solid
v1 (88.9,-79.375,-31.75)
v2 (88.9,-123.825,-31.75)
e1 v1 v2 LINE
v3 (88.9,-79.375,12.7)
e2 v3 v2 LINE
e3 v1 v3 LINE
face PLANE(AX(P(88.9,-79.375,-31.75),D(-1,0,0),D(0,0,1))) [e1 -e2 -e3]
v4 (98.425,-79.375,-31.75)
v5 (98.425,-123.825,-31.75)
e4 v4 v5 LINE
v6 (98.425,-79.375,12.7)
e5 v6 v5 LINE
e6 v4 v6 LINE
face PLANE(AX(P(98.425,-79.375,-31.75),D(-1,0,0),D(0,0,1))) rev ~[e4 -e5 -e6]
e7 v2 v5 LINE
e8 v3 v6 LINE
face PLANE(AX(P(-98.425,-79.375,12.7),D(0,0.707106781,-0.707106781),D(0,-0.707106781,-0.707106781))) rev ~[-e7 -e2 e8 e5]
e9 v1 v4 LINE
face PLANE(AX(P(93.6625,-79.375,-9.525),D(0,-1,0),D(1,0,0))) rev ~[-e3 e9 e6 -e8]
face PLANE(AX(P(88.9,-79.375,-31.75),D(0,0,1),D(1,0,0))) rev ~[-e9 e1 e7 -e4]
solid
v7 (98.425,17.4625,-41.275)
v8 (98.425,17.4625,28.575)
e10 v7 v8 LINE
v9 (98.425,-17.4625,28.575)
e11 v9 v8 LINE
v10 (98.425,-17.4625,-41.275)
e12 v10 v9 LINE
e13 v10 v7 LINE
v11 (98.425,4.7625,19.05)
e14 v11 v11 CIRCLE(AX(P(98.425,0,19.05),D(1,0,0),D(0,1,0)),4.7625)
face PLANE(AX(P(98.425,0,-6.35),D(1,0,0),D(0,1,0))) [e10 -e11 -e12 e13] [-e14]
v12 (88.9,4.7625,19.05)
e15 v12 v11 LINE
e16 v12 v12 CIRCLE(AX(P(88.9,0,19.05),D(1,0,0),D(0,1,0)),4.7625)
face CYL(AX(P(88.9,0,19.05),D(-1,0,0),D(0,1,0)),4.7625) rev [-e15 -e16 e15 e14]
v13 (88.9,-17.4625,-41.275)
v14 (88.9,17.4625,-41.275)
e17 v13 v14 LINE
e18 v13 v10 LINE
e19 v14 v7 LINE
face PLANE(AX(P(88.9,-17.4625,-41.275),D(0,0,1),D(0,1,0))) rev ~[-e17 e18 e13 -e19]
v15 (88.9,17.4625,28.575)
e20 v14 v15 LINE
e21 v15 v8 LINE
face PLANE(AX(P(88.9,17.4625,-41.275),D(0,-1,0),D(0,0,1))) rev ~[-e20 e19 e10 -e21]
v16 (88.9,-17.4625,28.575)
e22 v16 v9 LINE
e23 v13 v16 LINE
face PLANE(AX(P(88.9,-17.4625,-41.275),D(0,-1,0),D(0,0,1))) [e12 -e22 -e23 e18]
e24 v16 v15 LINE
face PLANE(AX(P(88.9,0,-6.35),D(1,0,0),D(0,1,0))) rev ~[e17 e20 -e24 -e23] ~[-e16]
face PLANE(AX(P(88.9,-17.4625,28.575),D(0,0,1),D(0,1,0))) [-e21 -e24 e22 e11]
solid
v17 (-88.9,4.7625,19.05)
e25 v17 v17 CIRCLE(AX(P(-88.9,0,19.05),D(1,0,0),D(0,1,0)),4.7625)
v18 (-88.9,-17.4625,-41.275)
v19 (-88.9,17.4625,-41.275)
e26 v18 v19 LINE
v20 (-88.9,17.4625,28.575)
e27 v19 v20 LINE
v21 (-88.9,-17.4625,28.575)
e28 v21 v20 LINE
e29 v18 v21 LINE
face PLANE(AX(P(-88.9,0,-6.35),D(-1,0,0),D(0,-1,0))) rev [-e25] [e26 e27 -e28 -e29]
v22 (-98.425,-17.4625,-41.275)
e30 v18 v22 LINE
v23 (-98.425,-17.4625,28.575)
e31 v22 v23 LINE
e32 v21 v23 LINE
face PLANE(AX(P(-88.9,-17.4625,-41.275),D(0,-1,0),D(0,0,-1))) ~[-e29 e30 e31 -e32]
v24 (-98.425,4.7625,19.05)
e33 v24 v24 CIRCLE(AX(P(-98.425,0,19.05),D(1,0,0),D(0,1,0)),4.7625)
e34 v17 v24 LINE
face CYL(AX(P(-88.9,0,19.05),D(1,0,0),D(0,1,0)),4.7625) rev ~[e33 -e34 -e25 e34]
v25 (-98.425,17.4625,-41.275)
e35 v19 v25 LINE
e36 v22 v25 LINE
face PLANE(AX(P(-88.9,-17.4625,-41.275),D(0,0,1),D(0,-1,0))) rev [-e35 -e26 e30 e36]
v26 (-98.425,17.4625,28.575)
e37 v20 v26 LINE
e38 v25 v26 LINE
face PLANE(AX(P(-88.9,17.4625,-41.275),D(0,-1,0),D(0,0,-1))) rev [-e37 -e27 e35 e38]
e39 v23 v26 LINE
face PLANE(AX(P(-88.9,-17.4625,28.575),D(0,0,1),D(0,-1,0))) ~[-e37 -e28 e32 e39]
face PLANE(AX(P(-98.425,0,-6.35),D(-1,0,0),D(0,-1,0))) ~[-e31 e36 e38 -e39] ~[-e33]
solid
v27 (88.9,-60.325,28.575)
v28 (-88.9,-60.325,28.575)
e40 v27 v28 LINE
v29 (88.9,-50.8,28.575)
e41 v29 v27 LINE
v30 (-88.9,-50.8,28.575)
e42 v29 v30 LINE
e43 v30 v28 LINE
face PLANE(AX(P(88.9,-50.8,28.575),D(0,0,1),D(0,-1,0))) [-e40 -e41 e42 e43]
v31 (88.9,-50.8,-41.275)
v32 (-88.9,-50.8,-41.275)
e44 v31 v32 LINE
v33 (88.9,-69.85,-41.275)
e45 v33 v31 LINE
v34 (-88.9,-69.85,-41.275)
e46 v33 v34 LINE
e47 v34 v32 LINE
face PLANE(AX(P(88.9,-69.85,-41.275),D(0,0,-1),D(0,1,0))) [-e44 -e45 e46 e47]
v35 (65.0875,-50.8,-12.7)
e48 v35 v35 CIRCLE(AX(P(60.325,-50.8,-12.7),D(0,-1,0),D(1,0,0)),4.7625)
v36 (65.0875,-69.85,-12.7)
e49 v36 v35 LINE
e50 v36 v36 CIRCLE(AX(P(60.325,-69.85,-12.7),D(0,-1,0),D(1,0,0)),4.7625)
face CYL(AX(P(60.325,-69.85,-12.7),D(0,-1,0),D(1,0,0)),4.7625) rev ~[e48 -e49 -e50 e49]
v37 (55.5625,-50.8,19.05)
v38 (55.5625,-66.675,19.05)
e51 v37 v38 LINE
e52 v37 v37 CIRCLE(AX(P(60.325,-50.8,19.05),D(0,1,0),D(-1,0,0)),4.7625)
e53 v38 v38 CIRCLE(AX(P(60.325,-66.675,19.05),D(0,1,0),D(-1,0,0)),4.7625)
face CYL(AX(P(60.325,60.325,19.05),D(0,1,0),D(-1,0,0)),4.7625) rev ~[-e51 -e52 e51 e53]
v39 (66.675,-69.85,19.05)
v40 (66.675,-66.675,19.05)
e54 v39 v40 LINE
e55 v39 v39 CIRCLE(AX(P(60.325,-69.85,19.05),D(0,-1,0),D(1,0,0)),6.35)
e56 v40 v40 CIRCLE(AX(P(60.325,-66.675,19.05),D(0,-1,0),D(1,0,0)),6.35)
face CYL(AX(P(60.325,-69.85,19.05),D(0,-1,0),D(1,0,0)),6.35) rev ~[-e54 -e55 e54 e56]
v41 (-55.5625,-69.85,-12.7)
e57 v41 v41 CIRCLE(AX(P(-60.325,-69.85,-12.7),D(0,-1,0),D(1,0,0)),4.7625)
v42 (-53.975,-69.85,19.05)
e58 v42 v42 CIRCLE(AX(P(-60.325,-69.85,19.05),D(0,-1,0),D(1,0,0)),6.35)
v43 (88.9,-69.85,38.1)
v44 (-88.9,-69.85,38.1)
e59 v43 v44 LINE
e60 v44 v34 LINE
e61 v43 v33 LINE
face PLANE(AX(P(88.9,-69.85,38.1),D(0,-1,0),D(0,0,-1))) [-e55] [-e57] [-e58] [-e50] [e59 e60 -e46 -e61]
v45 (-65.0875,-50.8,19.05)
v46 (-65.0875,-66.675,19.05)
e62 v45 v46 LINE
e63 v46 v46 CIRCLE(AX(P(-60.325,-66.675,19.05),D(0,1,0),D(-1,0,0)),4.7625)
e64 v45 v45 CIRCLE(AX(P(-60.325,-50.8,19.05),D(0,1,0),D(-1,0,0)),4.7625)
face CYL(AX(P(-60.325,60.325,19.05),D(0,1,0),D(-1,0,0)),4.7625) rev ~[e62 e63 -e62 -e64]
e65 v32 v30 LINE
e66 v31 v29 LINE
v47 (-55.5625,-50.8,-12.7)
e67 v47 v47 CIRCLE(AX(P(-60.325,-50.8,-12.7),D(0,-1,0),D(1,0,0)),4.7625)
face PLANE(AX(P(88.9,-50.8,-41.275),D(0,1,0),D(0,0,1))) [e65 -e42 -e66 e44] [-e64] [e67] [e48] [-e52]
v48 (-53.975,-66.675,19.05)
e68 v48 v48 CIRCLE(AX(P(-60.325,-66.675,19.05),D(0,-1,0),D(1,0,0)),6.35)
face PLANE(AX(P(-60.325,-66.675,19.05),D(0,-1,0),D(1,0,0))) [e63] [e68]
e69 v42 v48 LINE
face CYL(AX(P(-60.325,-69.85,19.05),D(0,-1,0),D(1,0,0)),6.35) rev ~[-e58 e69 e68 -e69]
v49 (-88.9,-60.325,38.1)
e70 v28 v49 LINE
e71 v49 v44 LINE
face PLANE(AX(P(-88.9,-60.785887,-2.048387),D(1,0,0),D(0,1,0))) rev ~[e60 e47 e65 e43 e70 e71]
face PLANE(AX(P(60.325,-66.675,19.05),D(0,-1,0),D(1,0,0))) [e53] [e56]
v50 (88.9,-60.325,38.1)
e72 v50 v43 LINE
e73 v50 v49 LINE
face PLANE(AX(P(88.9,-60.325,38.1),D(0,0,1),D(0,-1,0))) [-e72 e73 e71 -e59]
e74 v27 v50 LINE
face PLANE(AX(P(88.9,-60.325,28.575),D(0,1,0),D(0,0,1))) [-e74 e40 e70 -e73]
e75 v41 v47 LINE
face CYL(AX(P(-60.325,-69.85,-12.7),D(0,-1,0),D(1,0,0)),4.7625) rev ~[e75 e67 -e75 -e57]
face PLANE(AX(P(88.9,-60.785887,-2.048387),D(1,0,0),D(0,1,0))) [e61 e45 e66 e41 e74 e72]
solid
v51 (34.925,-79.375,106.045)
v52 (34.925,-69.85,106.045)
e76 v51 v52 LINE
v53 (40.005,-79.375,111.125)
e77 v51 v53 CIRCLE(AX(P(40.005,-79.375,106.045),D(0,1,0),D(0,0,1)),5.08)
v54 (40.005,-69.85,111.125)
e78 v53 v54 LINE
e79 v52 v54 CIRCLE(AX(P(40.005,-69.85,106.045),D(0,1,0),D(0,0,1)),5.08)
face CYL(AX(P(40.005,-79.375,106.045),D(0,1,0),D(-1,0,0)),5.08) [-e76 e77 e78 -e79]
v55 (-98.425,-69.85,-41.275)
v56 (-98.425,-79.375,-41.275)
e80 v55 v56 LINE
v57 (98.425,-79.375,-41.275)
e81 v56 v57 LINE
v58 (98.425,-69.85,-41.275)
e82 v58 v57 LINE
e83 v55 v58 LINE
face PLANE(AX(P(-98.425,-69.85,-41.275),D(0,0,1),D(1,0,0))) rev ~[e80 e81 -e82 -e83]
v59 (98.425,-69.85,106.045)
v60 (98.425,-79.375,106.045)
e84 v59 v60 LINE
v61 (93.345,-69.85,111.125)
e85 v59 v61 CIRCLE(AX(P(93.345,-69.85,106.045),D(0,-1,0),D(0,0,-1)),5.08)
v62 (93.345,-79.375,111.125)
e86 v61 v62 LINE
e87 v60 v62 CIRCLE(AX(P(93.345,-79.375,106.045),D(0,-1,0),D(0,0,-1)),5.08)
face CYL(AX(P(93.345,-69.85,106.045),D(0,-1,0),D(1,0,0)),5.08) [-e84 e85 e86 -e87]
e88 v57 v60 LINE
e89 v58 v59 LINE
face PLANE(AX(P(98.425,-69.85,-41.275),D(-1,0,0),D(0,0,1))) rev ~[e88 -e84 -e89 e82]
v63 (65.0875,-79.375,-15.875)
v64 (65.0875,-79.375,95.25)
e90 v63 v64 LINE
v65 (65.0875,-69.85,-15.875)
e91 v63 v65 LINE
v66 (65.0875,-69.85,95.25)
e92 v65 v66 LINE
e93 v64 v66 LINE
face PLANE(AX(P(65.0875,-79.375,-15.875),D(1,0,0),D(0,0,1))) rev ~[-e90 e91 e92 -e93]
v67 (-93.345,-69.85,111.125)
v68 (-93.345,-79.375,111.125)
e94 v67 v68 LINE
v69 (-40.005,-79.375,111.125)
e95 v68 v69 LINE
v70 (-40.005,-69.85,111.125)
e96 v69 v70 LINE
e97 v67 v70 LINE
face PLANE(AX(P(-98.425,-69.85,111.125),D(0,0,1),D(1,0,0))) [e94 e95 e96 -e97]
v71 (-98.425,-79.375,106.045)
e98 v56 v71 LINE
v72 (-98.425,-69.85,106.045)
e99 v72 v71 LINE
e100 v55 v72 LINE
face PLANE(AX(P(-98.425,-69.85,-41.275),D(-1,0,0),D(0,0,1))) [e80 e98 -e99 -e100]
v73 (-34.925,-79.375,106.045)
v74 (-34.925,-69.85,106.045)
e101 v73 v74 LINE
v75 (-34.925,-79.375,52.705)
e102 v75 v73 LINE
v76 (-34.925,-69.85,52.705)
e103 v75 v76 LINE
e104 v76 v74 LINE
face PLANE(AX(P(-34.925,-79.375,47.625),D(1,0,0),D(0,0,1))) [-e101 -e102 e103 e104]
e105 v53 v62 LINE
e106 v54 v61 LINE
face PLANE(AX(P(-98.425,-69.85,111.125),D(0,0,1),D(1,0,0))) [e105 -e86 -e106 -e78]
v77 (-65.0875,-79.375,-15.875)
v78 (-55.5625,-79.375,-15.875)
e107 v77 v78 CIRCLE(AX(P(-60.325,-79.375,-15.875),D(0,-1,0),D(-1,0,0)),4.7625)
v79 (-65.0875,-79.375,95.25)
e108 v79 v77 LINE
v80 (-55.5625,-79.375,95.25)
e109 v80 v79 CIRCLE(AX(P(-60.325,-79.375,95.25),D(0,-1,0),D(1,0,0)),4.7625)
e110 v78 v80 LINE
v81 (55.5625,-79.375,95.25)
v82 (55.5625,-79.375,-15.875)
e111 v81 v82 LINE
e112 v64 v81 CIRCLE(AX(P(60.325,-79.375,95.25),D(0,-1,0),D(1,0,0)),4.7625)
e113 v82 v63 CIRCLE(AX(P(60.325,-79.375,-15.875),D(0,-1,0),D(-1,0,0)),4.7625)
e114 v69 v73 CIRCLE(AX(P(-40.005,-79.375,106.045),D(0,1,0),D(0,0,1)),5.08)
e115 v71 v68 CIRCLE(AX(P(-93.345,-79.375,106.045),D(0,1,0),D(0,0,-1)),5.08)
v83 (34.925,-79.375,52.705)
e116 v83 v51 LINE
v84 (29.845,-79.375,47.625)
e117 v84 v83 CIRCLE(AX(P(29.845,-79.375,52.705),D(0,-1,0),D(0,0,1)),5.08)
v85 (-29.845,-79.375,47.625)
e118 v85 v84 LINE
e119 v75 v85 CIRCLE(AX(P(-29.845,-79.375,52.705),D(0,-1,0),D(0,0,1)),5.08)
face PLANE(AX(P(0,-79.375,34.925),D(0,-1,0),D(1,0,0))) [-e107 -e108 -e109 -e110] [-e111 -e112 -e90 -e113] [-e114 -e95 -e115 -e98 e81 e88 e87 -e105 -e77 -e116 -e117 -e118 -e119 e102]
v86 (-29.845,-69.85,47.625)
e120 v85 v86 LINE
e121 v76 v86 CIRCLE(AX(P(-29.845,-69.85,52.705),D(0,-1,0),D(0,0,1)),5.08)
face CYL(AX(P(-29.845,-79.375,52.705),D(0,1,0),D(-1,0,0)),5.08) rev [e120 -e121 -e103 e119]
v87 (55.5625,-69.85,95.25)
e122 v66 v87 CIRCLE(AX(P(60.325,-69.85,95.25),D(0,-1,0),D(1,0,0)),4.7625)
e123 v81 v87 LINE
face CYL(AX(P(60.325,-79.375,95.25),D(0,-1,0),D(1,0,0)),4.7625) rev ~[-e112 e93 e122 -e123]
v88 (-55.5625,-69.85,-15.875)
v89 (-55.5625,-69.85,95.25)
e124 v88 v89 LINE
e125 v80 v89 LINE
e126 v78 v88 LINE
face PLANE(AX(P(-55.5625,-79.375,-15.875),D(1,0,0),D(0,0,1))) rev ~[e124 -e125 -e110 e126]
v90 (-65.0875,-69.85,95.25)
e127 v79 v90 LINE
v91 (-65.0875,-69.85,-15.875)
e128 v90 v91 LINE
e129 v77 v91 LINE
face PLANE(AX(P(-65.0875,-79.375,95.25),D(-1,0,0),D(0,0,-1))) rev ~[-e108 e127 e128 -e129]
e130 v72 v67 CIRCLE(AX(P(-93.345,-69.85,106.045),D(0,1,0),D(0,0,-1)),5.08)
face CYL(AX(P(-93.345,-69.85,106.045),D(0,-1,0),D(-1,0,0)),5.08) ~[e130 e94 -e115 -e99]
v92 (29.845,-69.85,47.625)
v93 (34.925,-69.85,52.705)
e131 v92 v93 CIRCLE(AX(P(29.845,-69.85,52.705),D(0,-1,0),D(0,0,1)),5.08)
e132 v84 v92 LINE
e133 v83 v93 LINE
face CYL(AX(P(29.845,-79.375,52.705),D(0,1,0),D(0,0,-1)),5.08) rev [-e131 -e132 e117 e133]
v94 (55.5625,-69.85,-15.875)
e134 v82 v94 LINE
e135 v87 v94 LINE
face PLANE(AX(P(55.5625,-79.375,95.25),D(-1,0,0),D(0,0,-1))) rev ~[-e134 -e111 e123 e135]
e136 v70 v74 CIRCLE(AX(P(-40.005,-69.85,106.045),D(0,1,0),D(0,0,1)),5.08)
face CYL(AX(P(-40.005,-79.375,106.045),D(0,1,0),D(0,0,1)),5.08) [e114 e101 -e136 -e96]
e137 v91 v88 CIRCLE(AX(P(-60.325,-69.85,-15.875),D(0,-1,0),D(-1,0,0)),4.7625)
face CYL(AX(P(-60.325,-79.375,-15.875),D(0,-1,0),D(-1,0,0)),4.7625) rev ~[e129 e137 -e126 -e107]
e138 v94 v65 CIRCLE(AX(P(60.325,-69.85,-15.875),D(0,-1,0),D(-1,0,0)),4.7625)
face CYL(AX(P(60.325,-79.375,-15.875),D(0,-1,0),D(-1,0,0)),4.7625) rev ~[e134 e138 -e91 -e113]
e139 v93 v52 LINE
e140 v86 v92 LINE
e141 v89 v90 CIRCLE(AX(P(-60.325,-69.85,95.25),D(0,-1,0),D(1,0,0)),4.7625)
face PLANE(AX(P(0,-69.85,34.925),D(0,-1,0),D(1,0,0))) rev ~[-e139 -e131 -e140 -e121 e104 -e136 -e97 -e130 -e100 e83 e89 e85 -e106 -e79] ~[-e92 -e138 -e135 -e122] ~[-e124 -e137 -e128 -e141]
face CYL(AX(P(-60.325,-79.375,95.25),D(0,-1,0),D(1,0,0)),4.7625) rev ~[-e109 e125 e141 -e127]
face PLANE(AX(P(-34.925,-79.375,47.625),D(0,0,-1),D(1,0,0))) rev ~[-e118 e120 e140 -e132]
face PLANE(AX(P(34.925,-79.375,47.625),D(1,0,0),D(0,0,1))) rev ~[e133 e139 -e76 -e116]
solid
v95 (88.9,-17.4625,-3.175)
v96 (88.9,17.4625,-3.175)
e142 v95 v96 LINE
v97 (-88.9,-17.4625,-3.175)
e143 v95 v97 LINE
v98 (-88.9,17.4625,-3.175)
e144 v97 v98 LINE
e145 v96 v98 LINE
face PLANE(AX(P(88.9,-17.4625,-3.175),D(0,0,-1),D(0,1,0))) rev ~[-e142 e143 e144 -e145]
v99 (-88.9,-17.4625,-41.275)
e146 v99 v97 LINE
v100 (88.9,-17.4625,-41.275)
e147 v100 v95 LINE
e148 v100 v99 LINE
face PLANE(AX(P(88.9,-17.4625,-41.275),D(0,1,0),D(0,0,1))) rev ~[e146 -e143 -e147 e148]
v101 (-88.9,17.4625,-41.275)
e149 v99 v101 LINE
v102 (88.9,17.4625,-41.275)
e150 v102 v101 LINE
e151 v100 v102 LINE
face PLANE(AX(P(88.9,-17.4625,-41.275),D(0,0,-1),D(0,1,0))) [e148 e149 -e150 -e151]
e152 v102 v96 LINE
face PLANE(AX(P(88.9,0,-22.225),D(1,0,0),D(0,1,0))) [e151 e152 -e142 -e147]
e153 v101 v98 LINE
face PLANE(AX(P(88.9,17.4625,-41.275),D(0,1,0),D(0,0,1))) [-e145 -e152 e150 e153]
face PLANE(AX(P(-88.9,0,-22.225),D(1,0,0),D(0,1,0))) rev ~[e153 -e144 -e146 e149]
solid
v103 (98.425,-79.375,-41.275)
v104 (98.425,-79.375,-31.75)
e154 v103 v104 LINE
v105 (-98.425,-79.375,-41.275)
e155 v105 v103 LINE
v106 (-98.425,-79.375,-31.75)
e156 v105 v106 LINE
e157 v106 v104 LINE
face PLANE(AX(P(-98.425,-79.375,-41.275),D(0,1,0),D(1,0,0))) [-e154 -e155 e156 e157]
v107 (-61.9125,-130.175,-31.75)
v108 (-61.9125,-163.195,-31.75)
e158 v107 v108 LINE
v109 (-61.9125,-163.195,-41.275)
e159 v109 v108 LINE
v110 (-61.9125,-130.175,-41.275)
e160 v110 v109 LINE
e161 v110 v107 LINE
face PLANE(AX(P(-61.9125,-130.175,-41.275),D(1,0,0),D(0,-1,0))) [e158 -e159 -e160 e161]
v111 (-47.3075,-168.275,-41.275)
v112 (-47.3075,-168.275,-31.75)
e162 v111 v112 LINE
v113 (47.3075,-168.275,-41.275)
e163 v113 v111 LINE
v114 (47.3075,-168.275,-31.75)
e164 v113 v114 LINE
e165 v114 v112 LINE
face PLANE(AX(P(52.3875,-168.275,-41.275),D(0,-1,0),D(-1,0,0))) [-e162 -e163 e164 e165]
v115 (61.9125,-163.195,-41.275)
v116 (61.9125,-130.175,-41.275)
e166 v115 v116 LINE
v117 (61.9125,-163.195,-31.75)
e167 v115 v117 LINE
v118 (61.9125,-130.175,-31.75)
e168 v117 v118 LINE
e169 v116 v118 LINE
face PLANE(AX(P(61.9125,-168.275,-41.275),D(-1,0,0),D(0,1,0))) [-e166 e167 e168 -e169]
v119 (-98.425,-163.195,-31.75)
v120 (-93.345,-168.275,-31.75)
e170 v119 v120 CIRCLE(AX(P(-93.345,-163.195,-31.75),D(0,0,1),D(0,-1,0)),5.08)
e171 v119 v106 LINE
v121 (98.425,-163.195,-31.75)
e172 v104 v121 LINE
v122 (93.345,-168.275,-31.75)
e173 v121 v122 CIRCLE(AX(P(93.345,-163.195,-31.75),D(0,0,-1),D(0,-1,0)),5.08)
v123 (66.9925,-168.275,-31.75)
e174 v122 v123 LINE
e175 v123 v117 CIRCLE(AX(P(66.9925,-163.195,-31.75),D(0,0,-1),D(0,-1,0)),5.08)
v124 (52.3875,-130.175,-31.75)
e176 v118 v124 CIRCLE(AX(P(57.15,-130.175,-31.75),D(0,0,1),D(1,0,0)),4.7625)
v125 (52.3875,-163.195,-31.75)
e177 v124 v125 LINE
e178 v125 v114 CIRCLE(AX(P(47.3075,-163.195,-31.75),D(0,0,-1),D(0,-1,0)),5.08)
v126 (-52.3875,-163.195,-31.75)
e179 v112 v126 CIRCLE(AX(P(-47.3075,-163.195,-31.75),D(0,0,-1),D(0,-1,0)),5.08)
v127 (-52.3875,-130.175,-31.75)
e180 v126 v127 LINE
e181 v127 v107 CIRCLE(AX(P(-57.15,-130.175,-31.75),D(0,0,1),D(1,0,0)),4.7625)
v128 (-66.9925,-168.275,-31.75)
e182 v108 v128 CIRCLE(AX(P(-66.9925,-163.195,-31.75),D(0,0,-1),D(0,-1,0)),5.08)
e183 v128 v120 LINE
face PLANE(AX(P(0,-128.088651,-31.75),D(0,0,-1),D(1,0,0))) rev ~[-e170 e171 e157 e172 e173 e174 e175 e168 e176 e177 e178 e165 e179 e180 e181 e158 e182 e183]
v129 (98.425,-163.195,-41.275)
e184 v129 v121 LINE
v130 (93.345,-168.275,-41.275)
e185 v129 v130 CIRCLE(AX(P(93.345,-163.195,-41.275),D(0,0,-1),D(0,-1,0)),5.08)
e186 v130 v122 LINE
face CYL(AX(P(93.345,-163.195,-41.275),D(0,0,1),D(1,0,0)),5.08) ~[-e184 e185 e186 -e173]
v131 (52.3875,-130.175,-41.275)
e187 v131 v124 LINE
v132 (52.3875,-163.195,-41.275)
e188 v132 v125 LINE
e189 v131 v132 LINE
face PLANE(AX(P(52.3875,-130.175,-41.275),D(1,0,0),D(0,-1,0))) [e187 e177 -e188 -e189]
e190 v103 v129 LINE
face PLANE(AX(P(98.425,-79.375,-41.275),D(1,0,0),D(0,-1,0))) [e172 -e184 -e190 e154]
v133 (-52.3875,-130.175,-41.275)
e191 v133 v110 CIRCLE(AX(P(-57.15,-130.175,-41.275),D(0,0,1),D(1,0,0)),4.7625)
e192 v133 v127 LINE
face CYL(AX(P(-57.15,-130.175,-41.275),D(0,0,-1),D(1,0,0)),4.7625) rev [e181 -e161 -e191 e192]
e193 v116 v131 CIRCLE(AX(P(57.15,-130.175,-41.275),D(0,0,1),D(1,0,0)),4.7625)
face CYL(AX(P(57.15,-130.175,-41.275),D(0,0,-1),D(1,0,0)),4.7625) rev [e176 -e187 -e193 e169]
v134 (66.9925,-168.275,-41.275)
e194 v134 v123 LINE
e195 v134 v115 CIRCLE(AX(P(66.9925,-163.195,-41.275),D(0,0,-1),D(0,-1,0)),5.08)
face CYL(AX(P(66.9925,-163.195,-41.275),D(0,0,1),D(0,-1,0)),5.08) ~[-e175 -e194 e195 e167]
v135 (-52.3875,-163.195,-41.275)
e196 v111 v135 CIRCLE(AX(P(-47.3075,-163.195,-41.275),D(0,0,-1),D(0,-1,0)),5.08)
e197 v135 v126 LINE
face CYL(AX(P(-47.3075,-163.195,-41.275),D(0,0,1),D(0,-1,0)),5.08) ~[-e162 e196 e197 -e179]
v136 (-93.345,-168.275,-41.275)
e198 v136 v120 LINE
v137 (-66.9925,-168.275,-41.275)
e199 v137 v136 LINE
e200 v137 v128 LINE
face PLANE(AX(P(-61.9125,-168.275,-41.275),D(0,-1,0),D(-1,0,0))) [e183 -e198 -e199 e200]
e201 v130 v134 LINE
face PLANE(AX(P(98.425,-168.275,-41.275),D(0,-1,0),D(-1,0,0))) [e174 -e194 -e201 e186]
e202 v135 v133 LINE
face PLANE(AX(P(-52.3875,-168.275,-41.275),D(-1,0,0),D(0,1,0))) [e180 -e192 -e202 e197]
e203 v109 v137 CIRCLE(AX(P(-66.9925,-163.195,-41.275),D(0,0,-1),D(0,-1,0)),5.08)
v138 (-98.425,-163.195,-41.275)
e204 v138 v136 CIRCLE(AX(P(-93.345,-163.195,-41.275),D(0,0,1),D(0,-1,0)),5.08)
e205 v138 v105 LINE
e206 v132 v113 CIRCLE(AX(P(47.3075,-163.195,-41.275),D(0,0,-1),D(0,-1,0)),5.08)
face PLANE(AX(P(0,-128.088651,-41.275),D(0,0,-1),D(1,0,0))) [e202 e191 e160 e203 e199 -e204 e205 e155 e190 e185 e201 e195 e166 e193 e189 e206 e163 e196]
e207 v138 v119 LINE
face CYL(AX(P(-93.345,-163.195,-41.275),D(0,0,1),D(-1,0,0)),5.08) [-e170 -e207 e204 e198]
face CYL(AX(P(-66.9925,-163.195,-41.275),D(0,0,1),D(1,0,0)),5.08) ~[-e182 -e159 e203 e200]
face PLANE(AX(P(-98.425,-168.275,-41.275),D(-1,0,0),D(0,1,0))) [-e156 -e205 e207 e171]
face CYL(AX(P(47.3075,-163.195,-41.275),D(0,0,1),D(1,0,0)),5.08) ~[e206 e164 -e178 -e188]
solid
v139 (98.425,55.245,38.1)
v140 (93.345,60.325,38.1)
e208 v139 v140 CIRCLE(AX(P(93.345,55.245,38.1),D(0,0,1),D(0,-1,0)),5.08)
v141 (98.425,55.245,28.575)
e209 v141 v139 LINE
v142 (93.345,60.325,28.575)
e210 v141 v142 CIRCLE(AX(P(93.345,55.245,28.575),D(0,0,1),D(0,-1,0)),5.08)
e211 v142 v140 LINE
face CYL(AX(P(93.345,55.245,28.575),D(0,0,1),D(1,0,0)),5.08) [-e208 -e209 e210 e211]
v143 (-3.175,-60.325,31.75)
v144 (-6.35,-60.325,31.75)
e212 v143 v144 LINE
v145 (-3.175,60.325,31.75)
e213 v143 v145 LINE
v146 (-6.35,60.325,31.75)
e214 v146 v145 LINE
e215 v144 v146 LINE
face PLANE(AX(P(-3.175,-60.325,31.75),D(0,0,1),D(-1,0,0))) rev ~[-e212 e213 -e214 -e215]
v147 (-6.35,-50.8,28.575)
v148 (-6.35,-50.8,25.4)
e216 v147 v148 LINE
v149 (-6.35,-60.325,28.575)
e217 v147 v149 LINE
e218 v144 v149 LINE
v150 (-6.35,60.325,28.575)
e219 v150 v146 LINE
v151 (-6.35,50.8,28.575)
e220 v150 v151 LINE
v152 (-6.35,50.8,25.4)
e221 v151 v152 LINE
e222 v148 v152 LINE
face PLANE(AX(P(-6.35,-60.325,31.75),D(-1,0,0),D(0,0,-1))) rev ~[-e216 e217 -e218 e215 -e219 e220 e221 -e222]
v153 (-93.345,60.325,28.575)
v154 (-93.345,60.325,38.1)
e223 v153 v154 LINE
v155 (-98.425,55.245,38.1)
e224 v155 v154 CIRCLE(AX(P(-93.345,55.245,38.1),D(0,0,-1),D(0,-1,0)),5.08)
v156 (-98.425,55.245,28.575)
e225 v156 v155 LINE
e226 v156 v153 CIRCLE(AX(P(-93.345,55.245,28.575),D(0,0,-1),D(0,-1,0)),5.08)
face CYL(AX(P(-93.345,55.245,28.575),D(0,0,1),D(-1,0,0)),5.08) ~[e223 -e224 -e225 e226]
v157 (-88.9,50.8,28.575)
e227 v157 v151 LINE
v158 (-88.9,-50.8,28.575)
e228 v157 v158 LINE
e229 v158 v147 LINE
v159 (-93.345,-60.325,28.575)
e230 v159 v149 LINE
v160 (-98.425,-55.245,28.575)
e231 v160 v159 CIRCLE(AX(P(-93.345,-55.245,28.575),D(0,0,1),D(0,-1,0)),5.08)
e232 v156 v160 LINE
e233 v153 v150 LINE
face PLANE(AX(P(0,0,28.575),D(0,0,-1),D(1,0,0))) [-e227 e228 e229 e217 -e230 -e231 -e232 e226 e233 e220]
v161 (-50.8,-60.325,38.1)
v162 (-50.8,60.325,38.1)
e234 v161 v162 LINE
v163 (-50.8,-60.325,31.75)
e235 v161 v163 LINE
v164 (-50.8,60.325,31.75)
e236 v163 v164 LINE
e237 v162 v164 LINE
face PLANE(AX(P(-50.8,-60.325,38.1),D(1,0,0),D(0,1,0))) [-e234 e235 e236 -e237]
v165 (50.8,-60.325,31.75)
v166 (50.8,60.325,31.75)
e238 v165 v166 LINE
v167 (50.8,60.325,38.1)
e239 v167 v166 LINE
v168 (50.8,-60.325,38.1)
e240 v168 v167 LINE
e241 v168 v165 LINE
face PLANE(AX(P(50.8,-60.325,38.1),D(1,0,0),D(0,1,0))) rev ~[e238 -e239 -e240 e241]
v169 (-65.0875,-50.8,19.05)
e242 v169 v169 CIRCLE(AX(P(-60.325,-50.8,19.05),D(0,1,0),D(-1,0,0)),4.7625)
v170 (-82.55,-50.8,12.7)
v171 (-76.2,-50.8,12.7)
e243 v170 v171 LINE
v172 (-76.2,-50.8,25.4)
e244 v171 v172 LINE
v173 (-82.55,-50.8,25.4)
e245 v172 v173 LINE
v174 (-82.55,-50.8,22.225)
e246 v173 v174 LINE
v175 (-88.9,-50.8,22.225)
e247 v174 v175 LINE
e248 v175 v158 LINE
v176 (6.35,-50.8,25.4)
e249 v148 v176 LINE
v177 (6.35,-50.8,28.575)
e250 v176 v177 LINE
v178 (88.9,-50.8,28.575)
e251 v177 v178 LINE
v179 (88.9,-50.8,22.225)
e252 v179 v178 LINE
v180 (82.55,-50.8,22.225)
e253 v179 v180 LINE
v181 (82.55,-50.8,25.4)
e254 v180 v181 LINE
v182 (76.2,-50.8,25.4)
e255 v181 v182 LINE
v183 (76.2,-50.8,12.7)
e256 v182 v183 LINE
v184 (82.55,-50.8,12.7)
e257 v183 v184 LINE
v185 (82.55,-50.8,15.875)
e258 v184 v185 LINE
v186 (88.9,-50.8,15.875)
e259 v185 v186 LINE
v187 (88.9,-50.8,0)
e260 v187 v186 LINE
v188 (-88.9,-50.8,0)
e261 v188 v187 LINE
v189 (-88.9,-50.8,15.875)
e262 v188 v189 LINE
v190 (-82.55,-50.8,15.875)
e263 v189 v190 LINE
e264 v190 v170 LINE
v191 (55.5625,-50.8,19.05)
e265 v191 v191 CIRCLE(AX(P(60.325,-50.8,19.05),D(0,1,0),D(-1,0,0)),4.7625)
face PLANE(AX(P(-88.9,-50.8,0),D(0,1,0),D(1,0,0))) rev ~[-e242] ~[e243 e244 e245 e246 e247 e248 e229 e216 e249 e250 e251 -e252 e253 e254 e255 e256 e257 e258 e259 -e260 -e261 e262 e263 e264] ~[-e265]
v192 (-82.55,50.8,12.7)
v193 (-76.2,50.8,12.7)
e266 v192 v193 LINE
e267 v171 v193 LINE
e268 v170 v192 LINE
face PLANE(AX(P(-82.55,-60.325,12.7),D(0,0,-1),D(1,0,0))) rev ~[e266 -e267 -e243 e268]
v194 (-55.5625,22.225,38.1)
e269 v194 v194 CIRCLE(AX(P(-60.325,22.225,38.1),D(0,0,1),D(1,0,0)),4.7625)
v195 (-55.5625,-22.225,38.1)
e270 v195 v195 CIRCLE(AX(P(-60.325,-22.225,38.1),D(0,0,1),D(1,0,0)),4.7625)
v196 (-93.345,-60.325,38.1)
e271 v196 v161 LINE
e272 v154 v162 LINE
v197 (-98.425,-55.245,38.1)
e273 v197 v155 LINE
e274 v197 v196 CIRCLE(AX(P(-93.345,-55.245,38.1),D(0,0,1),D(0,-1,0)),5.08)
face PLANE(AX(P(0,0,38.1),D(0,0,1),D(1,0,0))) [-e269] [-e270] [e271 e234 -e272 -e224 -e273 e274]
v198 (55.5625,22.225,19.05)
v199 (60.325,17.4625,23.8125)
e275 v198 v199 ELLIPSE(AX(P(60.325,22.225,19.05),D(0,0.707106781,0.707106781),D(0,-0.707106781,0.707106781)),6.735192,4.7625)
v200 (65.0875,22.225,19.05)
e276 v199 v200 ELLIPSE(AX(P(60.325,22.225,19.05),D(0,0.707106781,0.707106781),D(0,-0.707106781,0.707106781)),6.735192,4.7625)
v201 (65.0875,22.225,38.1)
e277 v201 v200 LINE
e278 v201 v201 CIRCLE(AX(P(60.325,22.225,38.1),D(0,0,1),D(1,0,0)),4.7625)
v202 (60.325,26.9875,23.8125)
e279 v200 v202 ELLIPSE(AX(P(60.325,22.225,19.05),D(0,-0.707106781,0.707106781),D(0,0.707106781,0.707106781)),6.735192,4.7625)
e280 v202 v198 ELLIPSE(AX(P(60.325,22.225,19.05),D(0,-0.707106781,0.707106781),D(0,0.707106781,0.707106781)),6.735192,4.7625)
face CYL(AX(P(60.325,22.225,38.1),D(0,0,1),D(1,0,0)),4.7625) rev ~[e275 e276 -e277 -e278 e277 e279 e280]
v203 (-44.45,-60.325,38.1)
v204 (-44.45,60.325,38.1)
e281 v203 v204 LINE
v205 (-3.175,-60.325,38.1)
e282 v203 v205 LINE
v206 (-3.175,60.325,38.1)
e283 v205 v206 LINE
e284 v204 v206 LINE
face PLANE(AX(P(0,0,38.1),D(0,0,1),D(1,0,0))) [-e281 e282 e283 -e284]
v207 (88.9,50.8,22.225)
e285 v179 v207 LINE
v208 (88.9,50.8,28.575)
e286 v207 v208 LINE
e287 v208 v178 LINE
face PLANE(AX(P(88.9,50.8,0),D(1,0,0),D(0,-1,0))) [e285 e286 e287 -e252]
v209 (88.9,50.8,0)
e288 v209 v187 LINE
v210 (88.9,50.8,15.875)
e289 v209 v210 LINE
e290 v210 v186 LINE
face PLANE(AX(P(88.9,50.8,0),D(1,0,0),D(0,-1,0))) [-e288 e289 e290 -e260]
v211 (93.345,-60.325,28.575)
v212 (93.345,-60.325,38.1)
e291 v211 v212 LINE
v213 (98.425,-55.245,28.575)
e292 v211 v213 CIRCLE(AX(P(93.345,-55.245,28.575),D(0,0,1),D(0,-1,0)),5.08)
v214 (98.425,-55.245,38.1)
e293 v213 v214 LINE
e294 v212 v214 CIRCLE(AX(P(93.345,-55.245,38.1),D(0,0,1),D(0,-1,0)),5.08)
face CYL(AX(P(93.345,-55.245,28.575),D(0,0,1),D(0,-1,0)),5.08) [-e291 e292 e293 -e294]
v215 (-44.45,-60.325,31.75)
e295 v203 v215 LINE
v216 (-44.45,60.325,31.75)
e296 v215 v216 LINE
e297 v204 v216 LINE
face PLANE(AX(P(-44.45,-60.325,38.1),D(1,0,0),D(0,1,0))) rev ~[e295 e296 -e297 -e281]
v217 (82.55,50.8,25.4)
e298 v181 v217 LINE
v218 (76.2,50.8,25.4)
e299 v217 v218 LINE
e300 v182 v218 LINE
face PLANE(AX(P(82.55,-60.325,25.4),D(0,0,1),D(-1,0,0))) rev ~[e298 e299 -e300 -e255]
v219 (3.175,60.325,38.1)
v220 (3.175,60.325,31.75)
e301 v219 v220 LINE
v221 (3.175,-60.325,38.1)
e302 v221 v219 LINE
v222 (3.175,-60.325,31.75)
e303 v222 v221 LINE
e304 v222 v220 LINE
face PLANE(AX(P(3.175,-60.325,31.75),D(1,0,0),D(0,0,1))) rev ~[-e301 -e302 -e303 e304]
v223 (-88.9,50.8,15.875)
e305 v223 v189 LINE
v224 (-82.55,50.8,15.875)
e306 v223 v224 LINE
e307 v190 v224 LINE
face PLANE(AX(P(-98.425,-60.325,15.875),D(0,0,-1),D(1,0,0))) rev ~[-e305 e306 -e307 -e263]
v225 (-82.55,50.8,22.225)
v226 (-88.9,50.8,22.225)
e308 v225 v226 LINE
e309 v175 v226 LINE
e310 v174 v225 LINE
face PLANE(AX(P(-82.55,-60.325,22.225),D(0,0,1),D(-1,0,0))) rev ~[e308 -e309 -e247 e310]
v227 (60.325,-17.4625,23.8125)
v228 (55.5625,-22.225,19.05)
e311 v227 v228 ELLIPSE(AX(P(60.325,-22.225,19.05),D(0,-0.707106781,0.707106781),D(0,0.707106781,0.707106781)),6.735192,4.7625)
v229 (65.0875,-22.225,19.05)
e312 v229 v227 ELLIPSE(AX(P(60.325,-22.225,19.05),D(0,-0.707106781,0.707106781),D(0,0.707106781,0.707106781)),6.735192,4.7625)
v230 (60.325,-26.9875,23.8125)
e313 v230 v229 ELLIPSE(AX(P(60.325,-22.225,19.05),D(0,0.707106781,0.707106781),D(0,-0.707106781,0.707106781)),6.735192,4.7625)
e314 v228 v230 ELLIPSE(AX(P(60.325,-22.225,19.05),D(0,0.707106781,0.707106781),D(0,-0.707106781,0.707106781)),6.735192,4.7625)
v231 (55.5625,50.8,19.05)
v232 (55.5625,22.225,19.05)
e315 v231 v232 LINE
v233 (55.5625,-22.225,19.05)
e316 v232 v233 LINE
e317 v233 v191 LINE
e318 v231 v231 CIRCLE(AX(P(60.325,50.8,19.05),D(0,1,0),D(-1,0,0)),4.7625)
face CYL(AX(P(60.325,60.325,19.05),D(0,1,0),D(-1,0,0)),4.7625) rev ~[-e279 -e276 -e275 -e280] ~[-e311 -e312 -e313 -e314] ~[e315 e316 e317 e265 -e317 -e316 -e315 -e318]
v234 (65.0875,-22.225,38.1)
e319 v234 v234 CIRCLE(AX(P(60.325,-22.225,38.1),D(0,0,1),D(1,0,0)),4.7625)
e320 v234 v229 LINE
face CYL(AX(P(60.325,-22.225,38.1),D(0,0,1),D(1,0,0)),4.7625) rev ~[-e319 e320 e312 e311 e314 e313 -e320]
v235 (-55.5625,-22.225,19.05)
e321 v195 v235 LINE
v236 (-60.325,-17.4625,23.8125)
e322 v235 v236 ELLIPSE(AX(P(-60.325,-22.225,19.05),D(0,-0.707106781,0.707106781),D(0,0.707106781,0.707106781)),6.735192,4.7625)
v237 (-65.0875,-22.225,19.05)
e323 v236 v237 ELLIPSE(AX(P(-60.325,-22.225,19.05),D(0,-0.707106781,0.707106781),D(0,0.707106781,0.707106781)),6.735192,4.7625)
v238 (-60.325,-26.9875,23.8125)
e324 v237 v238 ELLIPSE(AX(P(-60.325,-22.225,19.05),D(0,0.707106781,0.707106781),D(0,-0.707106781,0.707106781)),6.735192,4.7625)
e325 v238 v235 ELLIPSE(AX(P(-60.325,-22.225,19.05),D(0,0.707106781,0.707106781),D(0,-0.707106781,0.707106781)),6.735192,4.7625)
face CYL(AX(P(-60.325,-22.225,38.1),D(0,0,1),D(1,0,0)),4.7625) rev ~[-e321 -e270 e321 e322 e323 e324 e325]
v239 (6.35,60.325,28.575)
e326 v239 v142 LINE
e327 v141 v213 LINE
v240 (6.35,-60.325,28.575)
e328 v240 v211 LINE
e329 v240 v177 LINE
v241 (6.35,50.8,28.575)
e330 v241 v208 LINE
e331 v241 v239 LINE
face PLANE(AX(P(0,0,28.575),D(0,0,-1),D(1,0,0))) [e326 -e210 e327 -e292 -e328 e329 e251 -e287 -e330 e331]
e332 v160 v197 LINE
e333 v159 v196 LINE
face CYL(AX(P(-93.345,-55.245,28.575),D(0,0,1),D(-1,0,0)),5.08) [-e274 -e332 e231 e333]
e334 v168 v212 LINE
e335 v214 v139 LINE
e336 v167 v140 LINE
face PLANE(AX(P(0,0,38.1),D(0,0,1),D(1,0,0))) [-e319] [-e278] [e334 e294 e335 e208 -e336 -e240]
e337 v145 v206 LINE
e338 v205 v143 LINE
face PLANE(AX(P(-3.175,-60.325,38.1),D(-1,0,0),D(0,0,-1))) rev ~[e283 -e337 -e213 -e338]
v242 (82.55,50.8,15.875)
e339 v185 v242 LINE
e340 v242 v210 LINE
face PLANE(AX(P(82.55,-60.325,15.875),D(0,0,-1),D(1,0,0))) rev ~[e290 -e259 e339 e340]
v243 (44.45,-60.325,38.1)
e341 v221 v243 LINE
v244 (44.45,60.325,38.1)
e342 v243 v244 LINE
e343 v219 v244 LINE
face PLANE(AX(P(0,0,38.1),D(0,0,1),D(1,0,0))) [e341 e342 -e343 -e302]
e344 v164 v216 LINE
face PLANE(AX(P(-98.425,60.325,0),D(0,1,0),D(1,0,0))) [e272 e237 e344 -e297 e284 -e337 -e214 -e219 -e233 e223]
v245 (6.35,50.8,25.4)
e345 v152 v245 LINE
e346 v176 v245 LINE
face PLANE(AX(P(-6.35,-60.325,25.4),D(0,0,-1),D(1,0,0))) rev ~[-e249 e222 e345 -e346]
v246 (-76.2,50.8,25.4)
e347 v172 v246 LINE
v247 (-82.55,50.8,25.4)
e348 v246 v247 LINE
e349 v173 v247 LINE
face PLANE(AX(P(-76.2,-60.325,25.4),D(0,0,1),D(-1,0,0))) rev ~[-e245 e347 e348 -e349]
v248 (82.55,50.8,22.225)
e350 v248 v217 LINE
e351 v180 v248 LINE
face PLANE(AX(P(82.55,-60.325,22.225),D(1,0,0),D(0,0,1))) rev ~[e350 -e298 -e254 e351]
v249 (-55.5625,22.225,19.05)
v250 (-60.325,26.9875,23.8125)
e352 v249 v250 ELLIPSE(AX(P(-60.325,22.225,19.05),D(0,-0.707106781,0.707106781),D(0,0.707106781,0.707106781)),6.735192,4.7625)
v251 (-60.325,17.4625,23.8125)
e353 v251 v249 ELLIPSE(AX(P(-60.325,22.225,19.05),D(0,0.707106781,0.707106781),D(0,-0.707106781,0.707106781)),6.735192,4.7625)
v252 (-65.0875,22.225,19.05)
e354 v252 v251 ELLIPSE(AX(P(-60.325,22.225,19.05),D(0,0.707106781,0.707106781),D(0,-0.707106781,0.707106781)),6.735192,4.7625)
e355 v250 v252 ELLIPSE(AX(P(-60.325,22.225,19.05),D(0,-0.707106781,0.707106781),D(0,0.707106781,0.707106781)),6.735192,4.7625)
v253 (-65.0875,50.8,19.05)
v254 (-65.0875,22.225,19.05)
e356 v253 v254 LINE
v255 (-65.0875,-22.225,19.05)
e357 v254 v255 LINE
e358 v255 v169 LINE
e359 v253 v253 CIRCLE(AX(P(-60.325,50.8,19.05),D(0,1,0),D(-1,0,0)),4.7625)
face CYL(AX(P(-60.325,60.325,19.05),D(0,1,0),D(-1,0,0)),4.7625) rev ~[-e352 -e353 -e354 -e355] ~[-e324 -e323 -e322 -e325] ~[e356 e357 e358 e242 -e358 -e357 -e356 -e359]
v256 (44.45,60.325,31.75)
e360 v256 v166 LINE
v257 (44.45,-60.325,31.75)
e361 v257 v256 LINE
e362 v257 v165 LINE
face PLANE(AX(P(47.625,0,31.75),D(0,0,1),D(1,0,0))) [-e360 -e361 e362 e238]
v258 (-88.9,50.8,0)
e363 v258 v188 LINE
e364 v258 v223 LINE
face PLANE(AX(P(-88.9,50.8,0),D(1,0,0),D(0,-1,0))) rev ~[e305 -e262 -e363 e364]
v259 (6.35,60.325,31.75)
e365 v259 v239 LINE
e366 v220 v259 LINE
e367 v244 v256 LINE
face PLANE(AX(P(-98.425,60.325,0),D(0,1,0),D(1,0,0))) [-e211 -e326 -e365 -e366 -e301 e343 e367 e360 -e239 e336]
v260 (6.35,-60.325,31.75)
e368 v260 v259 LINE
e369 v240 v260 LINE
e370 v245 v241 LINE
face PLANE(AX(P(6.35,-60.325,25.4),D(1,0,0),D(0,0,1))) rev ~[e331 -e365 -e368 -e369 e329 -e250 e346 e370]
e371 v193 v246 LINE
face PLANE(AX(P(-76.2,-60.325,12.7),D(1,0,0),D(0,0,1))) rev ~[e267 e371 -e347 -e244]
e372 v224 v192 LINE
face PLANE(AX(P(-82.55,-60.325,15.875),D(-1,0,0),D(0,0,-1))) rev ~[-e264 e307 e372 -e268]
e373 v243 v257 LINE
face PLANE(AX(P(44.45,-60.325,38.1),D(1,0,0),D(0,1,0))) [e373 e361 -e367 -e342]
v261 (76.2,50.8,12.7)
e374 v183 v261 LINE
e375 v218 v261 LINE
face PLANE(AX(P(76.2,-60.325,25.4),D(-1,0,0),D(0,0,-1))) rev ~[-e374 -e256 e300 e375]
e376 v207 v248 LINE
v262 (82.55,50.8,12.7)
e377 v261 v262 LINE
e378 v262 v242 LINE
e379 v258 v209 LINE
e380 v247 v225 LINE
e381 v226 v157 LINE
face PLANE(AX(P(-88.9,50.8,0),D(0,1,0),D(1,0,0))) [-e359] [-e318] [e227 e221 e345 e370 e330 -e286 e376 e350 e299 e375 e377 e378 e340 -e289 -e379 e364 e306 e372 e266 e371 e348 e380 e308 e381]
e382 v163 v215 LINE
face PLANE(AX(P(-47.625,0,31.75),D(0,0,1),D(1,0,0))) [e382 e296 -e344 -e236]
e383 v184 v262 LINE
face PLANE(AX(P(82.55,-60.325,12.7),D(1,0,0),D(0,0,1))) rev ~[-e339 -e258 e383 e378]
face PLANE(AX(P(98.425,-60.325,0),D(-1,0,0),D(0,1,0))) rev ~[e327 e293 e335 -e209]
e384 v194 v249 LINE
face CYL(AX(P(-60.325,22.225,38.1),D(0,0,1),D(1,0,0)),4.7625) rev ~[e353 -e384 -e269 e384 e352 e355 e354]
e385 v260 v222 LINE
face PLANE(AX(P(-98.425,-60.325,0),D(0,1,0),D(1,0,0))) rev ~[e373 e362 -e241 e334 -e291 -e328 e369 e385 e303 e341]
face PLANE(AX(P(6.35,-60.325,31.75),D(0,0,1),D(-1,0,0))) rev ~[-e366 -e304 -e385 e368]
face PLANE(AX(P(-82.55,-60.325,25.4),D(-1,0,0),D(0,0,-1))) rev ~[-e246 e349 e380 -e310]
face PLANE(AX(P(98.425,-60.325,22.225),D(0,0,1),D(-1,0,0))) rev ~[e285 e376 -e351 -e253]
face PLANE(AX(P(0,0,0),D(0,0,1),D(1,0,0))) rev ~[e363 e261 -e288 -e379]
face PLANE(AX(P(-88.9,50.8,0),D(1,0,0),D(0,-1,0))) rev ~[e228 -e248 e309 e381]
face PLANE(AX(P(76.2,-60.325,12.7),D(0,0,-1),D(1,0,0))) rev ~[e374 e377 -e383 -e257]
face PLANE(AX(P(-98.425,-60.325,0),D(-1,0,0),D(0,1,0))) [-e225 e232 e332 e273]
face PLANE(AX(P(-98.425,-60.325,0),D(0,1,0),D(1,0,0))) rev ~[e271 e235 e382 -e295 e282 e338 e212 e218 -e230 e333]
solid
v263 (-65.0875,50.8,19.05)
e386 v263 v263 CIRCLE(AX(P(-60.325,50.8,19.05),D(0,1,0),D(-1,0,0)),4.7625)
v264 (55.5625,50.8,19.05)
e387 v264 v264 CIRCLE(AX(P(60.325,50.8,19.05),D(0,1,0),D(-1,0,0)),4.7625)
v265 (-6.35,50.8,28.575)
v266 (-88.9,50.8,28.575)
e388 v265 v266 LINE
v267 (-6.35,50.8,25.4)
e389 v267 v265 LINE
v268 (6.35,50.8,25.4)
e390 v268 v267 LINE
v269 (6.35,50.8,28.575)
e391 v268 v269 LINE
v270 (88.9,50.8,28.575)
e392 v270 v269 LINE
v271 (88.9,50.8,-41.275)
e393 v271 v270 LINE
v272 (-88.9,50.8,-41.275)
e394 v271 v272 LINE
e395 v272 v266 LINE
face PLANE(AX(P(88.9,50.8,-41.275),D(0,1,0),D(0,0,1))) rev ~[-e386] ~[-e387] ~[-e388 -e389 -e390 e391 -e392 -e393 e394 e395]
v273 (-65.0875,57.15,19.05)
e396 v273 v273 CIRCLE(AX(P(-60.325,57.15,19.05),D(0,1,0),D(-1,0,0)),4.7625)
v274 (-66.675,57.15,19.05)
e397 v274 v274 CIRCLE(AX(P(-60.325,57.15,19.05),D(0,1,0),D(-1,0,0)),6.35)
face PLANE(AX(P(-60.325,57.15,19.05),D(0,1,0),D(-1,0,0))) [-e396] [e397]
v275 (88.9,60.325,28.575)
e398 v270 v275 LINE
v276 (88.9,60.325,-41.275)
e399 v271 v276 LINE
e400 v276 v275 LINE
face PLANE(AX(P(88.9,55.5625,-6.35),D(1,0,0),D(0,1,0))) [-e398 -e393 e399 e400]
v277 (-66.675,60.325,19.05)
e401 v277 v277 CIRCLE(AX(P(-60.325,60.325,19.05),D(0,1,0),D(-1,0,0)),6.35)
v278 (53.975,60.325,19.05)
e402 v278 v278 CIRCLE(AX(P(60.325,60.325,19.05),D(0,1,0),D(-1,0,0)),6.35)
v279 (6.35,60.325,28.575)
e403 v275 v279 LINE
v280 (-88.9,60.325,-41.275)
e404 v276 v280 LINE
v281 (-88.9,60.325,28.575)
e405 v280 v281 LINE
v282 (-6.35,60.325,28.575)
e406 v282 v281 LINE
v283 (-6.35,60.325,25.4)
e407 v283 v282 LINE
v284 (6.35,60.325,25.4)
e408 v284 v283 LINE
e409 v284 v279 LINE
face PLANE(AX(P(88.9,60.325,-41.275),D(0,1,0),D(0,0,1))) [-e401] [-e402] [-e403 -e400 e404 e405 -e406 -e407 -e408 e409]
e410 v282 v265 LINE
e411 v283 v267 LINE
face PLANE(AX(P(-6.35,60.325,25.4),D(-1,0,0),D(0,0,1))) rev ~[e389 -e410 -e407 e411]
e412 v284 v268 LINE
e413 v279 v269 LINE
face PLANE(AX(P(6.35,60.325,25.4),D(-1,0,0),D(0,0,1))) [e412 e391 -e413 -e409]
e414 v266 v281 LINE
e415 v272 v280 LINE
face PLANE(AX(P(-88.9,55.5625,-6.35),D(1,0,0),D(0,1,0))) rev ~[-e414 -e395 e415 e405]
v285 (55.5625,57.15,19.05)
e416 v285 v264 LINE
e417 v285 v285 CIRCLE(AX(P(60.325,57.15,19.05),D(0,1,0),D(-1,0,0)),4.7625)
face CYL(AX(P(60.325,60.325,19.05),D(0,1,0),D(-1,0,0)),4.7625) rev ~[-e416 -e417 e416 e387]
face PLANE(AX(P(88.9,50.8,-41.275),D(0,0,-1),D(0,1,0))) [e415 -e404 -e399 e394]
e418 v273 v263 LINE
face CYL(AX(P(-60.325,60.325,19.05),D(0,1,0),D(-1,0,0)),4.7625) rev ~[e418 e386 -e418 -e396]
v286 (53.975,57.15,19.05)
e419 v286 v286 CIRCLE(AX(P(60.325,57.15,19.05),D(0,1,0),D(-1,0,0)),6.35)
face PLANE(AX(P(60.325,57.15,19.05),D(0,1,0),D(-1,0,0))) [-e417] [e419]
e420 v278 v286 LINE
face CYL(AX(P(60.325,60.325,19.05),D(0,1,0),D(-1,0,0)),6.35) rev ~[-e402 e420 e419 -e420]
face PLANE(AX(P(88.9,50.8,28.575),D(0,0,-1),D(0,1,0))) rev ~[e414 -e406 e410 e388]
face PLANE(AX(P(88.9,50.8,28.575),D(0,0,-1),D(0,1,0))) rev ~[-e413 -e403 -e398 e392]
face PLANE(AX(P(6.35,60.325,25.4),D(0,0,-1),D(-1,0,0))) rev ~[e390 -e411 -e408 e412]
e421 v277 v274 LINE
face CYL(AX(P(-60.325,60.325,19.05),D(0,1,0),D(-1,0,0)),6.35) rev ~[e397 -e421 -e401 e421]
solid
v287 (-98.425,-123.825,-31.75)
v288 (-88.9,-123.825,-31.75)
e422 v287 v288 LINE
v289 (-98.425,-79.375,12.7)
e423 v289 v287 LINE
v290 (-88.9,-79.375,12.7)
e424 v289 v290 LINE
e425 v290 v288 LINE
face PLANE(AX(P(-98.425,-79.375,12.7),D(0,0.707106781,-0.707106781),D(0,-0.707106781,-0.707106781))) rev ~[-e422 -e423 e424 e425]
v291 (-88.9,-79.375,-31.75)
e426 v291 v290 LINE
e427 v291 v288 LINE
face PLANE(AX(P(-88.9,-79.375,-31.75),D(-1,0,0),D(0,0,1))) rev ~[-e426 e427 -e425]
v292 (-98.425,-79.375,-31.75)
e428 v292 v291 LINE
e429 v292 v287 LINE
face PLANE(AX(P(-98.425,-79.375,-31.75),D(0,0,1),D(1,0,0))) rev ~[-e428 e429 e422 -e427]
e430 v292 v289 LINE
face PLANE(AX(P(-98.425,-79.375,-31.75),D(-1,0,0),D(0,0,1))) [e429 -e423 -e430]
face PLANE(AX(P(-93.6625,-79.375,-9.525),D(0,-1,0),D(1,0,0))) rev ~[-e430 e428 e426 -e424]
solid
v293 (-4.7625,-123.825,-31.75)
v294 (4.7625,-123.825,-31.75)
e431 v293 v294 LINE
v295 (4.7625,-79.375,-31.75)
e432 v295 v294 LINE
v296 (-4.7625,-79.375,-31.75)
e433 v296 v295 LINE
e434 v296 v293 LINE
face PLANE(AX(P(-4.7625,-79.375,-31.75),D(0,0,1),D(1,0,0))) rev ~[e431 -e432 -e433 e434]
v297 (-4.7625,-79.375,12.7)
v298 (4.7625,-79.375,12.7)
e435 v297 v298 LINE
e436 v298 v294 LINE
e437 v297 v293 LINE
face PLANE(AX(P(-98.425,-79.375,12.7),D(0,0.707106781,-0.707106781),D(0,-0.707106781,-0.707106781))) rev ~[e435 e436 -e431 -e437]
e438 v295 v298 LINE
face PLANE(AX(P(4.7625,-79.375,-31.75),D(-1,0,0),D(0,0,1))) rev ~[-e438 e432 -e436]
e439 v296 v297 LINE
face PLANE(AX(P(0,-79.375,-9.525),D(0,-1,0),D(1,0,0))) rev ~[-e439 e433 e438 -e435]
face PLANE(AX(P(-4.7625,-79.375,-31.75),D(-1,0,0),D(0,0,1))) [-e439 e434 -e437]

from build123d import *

# Parameters (mm, degrees)
F0_W      = 196.85
F0_H      = 120.65
F1_DEPTH  = 38.1
F3_DEPTH  = 120.651
F4_W      = 196.85
F4_H      = 120.65
F4_W_2    = 177.8
F4_H_2    = 101.6
F5_DEPTH  = 28.575
F6_W      = 6.35
F6_H      = 120.65
F7_DEPTH  = 6.35
F8_R      = 4.7625
F9_DEPTH  = 19.05
F11_DEPTH = 177.8
F10_W     = 9.525
F10_H     = 69.85
F12_R     = 6.35
F12_R_2   = 4.7625
F13_DEPTH = 3.175
F14_DEPTH = 130.176
F15_R     = 6.35
F15_R_2   = 4.7625
F16_DEPTH = 3.175
F17_DEPTH = 19.05
F12_W     = 12.7
F12_H     = 3.175
F18_DEPTH = 130.176
F19_W     = 34.925
F19_H     = 38.1
F20_DEPTH = 177.8
F21_W     = 34.925
F21_H     = 69.85
F21_R     = 4.7625
F22_DEPTH = 9.525
F24_W     = 196.85
F24_H     = 152.4
F25_DEPTH = 9.525
F26_W     = 69.85
F26_H     = 63.5
F27_DEPTH = 139.701
F28_W     = 9.525
F28_H     = 44.45
F29_DEPTH = 44.45
F31_DEPTH = 196.851
F33_DEPTH = 9.525
F34_R     = 5.08
F34_2_R   = 5.08
F34_3_R   = 5.08


with BuildPart() as f1:
    # F0 (on Top) → F1 (new body)
    with BuildSketch(Plane.XY):
        Rectangle(F0_W, F0_H)
    extrude(amount=F1_DEPTH)

    # F2 (on face) → F3 (cut, through all)
    with BuildSketch(Plane.XZ.offset(60.325)):
        Polygon((-98.425, 22.225), (-98.425, 19.05), (-98.425, 15.875), (-82.55, 15.875), (-82.55, 12.7), (-76.2, 12.7), (-76.2, 19.05), (-76.2, 25.4), (-82.55, 25.4), (-82.55, 22.225), align=None)
        Polygon((98.425, 22.225), (82.55, 22.225), (82.55, 25.4), (76.2, 25.4), (76.2, 19.05), (76.2, 12.7), (82.55, 12.7), (82.55, 15.875), (98.425, 15.875), (98.425, 19.05), align=None)
        Polygon((0, 38.1), (-3.175, 38.1), (-3.175, 31.75), (-6.35, 31.75), (-6.35, 25.4), (0, 25.4), (6.35, 25.4), (6.35, 31.75), (3.175, 31.75), (3.175, 38.1), align=None)
    extrude(amount=-F3_DEPTH, mode=Mode.SUBTRACT)

    # F4 (on face) → F5 (cut)
    with BuildSketch(Plane(origin=(0, 0, 0), x_dir=(1, 0, 0), z_dir=(0, 0, -1))):
        Rectangle(F4_W, F4_H)
        Rectangle(F4_W_2, F4_H_2, mode=Mode.SUBTRACT)
    extrude(amount=-F5_DEPTH, mode=Mode.SUBTRACT)

    # F6 (on face) → F7 (cut)
    with BuildSketch(Plane.XY.offset(38.1)):
        with Locations((-47.625, 0)):
            Rectangle(F6_W, F6_H)
        with Locations((47.625, 0)):
            Rectangle(F6_W, F6_H)
    extrude(amount=-F7_DEPTH, mode=Mode.SUBTRACT)

    # F8 (on face) → F9 (cut)
    with BuildSketch(Plane.XY.offset(38.1)):
        with Locations((-60.325, 22.225)):
            Circle(F8_R)
        with Locations((-60.325, -22.225)):
            Circle(F8_R)
        with Locations((60.325, -22.225)):
            Circle(F8_R)
        with Locations((60.325, 22.225)):
            Circle(F8_R)
    extrude(amount=-F9_DEPTH, mode=Mode.SUBTRACT)


with BuildPart() as f11:
    # F10 (on face) → F11 (new body, through all)
    with BuildSketch(Plane.YZ.offset(88.9)):
        Polygon((-50.8, -41.275), (-50.8, 28.575), (-60.325, 28.575), (-60.325, 38.1), (-69.85, 38.1), (-69.85, -41.275), align=None)
    extrude(amount=-F11_DEPTH)


with BuildPart() as f11b:
    # F10 (on face) → F11, piece 2 (new body, through all)
    with BuildSketch(Plane.YZ.offset(88.9)):
        with Locations((55.5625, -6.35)):
            Rectangle(F10_W, F10_H)
    extrude(amount=-F11_DEPTH)

    # F12 (on face) → F13 (cut)
    with BuildSketch(Plane(origin=(0, 60.325, 0), x_dir=(-1, 0, 0), z_dir=(0, 1, 0))):
        with Locations((-60.325, 19.05)):
            Circle(F12_R)
        with Locations((-60.325, 19.05)):
            Circle(F12_R_2, mode=Mode.SUBTRACT)
        with Locations((-60.325, 19.05)):
            Circle(F12_R_2)
        with Locations((60.325, 19.05)):
            Circle(F12_R)
        with Locations((60.325, 19.05)):
            Circle(F12_R_2, mode=Mode.SUBTRACT)
        with Locations((60.325, 19.05)):
            Circle(F12_R_2)
    extrude(amount=-F13_DEPTH, mode=Mode.SUBTRACT)


with BuildPart() as f14_tool:
    # F12 (on face) → F14 (new body, through all)
    with BuildSketch(Plane(origin=(0, 60.325, 0), x_dir=(-1, 0, 0), z_dir=(0, 1, 0))):
        with Locations((-60.325, 19.05)):
            Circle(F12_R_2)
        with Locations((60.325, 19.05)):
            Circle(F12_R_2)
    extrude(amount=-F14_DEPTH)


with BuildPart() as f1_1:
    add(f1.part)

    # F14: cut by f14_tool
    add(f14_tool.part, mode=Mode.SUBTRACT)

    # F34#3
    f34_3_edges = [f1_1.edges().sort_by_distance(p)[0] for p in [
        (98.425, 60.325, 33.3375),
        (98.425, -60.325, 33.3375),
        (-98.425, -60.325, 33.3375),
        (-98.425, 60.325, 33.3375),
    ]]
    fillet(f34_3_edges, radius=F34_3_R)


with BuildPart() as f11_1:
    add(f11.part)

    # F14: cut by f14_tool
    add(f14_tool.part, mode=Mode.SUBTRACT)

    # F15 (on face) → F16 (cut)
    with BuildSketch(Plane.XZ.offset(69.85)):
        with Locations((-60.325, 19.05)):
            Circle(F15_R)
        with Locations((-60.325, 19.05)):
            Circle(F15_R_2, mode=Mode.SUBTRACT)
        with Locations((60.325, 19.05)):
            Circle(F15_R)
        with Locations((60.325, 19.05)):
            Circle(F15_R_2, mode=Mode.SUBTRACT)
        with Locations((60.325, 19.05)):
            Circle(F15_R_2)
        with Locations((-60.325, 19.05)):
            Circle(F15_R_2)
    extrude(amount=-F16_DEPTH, mode=Mode.SUBTRACT)

    # F15 (on face) → F17 (cut, through all)
    with BuildSketch(Plane.XZ.offset(69.85)):
        with Locations((-60.325, -12.7)):
            Circle(F15_R_2)
        with Locations((60.325, -12.7)):
            Circle(F15_R_2)
    extrude(amount=-F17_DEPTH, mode=Mode.SUBTRACT)


with BuildPart() as f11b_1:
    add(f11b.part)

    # F14: cut by f14_tool
    add(f14_tool.part, mode=Mode.SUBTRACT)

    # F12 (on face) → F18 (cut, through all)
    with BuildSketch(Plane(origin=(0, 60.325, 0), x_dir=(-1, 0, 0), z_dir=(0, 1, 0))):
        with Locations((0, 26.9875)):
            Rectangle(F12_W, F12_H)
    extrude(amount=-F18_DEPTH, mode=Mode.SUBTRACT)


with BuildPart() as f20:
    # F19 (on face) → F20 (new body, through all)
    with BuildSketch(Plane.YZ.offset(88.9)):
        with Locations((0, -22.225)):
            Rectangle(F19_W, F19_H)
    extrude(amount=-F20_DEPTH)


with BuildPart() as f22:
    # F21 (on face) → F22 (new body)
    with BuildSketch(Plane.YZ.offset(88.9)):
        with Locations((0, -6.35)):
            Rectangle(F21_W, F21_H)
        with Locations((0, 19.05)):
            Circle(F21_R, mode=Mode.SUBTRACT)
    extrude(amount=F22_DEPTH)


with BuildPart() as f23_1:
    # F23: instance of F22
    add(f22.part.mirror(Plane.YZ))


with BuildPart() as f25:
    # F24 (on face) → F25 (new body)
    with BuildSketch(Plane.XZ.offset(69.85)):
        with Locations((0, 34.925)):
            Rectangle(F24_W, F24_H)
    extrude(amount=F25_DEPTH)

    # F26 (on face) → F27 (cut, through all)
    with BuildSketch(Plane.XZ.offset(79.375)):
        with BuildLine():
            ThreePointArc((-65.0875, -15.875), (-60.325, -20.6375), (-55.5625, -15.875))
            Line((-55.5625, -15.875), (-55.5625, 95.25))
            ThreePointArc((-55.5625, 95.25), (-60.325, 100.0125), (-65.0875, 95.25))
            Line((-65.0875, 95.25), (-65.0875, -15.875))
        make_face()
        with BuildLine():
            Line((55.5625, 95.25), (55.5625, -15.875))
            ThreePointArc((55.5625, -15.875), (60.325, -20.6375), (65.0875, -15.875))
            Line((65.0875, -15.875), (65.0875, 95.25))
            ThreePointArc((65.0875, 95.25), (60.325, 100.0125), (55.5625, 95.25))
        make_face()
        with Locations((0, 79.375)):
            Rectangle(F26_W, F26_H)
    extrude(amount=-F27_DEPTH, mode=Mode.SUBTRACT)

    # F34
    f34_edges = [f25.edges().sort_by_distance(p)[0] for p in [
        (-98.425, -74.6125, 111.125),
        (-34.925, -74.6125, 111.125),
        (34.925, -74.6125, 111.125),
        (98.425, -74.6125, 111.125),
        (-34.925, -74.6125, 47.625),
        (34.925, -74.6125, 47.625),
    ]]
    fillet(f34_edges, radius=F34_R)


with BuildPart() as f29:
    # F28 (on face) → F29 (new body)
    with BuildSketch(Plane.XZ.offset(79.375)):
        with Locations((-93.6625, -9.525)):
            Rectangle(F28_W, F28_H)
    extrude(amount=F29_DEPTH)


with BuildPart() as f29b:
    # F28 (on face) → F29, piece 2 (new body)
    with BuildSketch(Plane.XZ.offset(79.375)):
        with Locations((93.6625, -9.525)):
            Rectangle(F28_W, F28_H)
    extrude(amount=F29_DEPTH)


with BuildPart() as f29c:
    # F28 (on face) → F29, piece 3 (new body)
    with BuildSketch(Plane.XZ.offset(79.375)):
        with Locations((0, -9.525)):
            Rectangle(F28_W, F28_H)
    extrude(amount=F29_DEPTH)


with BuildPart() as f31_tool:
    # F30 (on face) → F31 (new body, through all)
    with BuildSketch(Plane(origin=(-98.425, 0, 0), x_dir=(0, -1, 0), z_dir=(-1, 0, 0))):
        Polygon((123.825, 12.7), (79.375, 12.7), (123.825, -31.75), align=None)
    extrude(amount=-F31_DEPTH)


with BuildPart() as f29_1:
    add(f29.part)

    # F31: cut by f31_tool
    add(f31_tool.part, mode=Mode.SUBTRACT)


with BuildPart() as f29b_1:
    add(f29b.part)

    # F31: cut by f31_tool
    add(f31_tool.part, mode=Mode.SUBTRACT)


with BuildPart() as f29c_1:
    add(f29c.part)

    # F31: cut by f31_tool
    add(f31_tool.part, mode=Mode.SUBTRACT)


with BuildPart() as f33:
    # F32 (on face) → F33 (new body)
    with BuildSketch(Plane(origin=(0, 0, -41.275), x_dir=(1, 0, 0), z_dir=(0, 0, -1))):
        with BuildLine():
            Line((-98.425, 168.275), (-98.425, 79.375))
            Line((-98.425, 79.375), (98.425, 79.375))
            Line((98.425, 79.375), (98.425, 168.275))
            Line((98.425, 168.275), (61.9125, 168.275))
            Line((61.9125, 168.275), (61.9125, 130.175))
            ThreePointArc((61.9125, 130.175), (57.15, 125.4125), (52.3875, 130.175))
            Line((52.3875, 130.175), (52.3875, 168.275))
            Line((52.3875, 168.275), (-52.3875, 168.275))
            Line((-52.3875, 168.275), (-52.3875, 130.175))
            ThreePointArc((-52.3875, 130.175), (-57.15, 125.4125), (-61.9125, 130.175))
            Line((-61.9125, 130.175), (-61.9125, 168.275))
            Line((-61.9125, 168.275), (-98.425, 168.275))
        make_face()
    extrude(amount=-F33_DEPTH)

    # F34#2
    f34_2_edges = [f33.edges().sort_by_distance(p)[0] for p in [
        (-61.9125, -168.275, -36.5125),
        (-52.3875, -168.275, -36.5125),
        (52.3875, -168.275, -36.5125),
        (61.9125, -168.275, -36.5125),
        (-98.425, -168.275, -36.5125),
        (98.425, -168.275, -36.5125),
    ]]
    fillet(f34_2_edges, radius=F34_2_R)


solid = Compound([f1_1.part, f11_1.part, f11b_1.part, f20.part, f22.part, f23_1.part, f25.part, f29_1.part, f29b_1.part, f29c_1.part, f33.part])
